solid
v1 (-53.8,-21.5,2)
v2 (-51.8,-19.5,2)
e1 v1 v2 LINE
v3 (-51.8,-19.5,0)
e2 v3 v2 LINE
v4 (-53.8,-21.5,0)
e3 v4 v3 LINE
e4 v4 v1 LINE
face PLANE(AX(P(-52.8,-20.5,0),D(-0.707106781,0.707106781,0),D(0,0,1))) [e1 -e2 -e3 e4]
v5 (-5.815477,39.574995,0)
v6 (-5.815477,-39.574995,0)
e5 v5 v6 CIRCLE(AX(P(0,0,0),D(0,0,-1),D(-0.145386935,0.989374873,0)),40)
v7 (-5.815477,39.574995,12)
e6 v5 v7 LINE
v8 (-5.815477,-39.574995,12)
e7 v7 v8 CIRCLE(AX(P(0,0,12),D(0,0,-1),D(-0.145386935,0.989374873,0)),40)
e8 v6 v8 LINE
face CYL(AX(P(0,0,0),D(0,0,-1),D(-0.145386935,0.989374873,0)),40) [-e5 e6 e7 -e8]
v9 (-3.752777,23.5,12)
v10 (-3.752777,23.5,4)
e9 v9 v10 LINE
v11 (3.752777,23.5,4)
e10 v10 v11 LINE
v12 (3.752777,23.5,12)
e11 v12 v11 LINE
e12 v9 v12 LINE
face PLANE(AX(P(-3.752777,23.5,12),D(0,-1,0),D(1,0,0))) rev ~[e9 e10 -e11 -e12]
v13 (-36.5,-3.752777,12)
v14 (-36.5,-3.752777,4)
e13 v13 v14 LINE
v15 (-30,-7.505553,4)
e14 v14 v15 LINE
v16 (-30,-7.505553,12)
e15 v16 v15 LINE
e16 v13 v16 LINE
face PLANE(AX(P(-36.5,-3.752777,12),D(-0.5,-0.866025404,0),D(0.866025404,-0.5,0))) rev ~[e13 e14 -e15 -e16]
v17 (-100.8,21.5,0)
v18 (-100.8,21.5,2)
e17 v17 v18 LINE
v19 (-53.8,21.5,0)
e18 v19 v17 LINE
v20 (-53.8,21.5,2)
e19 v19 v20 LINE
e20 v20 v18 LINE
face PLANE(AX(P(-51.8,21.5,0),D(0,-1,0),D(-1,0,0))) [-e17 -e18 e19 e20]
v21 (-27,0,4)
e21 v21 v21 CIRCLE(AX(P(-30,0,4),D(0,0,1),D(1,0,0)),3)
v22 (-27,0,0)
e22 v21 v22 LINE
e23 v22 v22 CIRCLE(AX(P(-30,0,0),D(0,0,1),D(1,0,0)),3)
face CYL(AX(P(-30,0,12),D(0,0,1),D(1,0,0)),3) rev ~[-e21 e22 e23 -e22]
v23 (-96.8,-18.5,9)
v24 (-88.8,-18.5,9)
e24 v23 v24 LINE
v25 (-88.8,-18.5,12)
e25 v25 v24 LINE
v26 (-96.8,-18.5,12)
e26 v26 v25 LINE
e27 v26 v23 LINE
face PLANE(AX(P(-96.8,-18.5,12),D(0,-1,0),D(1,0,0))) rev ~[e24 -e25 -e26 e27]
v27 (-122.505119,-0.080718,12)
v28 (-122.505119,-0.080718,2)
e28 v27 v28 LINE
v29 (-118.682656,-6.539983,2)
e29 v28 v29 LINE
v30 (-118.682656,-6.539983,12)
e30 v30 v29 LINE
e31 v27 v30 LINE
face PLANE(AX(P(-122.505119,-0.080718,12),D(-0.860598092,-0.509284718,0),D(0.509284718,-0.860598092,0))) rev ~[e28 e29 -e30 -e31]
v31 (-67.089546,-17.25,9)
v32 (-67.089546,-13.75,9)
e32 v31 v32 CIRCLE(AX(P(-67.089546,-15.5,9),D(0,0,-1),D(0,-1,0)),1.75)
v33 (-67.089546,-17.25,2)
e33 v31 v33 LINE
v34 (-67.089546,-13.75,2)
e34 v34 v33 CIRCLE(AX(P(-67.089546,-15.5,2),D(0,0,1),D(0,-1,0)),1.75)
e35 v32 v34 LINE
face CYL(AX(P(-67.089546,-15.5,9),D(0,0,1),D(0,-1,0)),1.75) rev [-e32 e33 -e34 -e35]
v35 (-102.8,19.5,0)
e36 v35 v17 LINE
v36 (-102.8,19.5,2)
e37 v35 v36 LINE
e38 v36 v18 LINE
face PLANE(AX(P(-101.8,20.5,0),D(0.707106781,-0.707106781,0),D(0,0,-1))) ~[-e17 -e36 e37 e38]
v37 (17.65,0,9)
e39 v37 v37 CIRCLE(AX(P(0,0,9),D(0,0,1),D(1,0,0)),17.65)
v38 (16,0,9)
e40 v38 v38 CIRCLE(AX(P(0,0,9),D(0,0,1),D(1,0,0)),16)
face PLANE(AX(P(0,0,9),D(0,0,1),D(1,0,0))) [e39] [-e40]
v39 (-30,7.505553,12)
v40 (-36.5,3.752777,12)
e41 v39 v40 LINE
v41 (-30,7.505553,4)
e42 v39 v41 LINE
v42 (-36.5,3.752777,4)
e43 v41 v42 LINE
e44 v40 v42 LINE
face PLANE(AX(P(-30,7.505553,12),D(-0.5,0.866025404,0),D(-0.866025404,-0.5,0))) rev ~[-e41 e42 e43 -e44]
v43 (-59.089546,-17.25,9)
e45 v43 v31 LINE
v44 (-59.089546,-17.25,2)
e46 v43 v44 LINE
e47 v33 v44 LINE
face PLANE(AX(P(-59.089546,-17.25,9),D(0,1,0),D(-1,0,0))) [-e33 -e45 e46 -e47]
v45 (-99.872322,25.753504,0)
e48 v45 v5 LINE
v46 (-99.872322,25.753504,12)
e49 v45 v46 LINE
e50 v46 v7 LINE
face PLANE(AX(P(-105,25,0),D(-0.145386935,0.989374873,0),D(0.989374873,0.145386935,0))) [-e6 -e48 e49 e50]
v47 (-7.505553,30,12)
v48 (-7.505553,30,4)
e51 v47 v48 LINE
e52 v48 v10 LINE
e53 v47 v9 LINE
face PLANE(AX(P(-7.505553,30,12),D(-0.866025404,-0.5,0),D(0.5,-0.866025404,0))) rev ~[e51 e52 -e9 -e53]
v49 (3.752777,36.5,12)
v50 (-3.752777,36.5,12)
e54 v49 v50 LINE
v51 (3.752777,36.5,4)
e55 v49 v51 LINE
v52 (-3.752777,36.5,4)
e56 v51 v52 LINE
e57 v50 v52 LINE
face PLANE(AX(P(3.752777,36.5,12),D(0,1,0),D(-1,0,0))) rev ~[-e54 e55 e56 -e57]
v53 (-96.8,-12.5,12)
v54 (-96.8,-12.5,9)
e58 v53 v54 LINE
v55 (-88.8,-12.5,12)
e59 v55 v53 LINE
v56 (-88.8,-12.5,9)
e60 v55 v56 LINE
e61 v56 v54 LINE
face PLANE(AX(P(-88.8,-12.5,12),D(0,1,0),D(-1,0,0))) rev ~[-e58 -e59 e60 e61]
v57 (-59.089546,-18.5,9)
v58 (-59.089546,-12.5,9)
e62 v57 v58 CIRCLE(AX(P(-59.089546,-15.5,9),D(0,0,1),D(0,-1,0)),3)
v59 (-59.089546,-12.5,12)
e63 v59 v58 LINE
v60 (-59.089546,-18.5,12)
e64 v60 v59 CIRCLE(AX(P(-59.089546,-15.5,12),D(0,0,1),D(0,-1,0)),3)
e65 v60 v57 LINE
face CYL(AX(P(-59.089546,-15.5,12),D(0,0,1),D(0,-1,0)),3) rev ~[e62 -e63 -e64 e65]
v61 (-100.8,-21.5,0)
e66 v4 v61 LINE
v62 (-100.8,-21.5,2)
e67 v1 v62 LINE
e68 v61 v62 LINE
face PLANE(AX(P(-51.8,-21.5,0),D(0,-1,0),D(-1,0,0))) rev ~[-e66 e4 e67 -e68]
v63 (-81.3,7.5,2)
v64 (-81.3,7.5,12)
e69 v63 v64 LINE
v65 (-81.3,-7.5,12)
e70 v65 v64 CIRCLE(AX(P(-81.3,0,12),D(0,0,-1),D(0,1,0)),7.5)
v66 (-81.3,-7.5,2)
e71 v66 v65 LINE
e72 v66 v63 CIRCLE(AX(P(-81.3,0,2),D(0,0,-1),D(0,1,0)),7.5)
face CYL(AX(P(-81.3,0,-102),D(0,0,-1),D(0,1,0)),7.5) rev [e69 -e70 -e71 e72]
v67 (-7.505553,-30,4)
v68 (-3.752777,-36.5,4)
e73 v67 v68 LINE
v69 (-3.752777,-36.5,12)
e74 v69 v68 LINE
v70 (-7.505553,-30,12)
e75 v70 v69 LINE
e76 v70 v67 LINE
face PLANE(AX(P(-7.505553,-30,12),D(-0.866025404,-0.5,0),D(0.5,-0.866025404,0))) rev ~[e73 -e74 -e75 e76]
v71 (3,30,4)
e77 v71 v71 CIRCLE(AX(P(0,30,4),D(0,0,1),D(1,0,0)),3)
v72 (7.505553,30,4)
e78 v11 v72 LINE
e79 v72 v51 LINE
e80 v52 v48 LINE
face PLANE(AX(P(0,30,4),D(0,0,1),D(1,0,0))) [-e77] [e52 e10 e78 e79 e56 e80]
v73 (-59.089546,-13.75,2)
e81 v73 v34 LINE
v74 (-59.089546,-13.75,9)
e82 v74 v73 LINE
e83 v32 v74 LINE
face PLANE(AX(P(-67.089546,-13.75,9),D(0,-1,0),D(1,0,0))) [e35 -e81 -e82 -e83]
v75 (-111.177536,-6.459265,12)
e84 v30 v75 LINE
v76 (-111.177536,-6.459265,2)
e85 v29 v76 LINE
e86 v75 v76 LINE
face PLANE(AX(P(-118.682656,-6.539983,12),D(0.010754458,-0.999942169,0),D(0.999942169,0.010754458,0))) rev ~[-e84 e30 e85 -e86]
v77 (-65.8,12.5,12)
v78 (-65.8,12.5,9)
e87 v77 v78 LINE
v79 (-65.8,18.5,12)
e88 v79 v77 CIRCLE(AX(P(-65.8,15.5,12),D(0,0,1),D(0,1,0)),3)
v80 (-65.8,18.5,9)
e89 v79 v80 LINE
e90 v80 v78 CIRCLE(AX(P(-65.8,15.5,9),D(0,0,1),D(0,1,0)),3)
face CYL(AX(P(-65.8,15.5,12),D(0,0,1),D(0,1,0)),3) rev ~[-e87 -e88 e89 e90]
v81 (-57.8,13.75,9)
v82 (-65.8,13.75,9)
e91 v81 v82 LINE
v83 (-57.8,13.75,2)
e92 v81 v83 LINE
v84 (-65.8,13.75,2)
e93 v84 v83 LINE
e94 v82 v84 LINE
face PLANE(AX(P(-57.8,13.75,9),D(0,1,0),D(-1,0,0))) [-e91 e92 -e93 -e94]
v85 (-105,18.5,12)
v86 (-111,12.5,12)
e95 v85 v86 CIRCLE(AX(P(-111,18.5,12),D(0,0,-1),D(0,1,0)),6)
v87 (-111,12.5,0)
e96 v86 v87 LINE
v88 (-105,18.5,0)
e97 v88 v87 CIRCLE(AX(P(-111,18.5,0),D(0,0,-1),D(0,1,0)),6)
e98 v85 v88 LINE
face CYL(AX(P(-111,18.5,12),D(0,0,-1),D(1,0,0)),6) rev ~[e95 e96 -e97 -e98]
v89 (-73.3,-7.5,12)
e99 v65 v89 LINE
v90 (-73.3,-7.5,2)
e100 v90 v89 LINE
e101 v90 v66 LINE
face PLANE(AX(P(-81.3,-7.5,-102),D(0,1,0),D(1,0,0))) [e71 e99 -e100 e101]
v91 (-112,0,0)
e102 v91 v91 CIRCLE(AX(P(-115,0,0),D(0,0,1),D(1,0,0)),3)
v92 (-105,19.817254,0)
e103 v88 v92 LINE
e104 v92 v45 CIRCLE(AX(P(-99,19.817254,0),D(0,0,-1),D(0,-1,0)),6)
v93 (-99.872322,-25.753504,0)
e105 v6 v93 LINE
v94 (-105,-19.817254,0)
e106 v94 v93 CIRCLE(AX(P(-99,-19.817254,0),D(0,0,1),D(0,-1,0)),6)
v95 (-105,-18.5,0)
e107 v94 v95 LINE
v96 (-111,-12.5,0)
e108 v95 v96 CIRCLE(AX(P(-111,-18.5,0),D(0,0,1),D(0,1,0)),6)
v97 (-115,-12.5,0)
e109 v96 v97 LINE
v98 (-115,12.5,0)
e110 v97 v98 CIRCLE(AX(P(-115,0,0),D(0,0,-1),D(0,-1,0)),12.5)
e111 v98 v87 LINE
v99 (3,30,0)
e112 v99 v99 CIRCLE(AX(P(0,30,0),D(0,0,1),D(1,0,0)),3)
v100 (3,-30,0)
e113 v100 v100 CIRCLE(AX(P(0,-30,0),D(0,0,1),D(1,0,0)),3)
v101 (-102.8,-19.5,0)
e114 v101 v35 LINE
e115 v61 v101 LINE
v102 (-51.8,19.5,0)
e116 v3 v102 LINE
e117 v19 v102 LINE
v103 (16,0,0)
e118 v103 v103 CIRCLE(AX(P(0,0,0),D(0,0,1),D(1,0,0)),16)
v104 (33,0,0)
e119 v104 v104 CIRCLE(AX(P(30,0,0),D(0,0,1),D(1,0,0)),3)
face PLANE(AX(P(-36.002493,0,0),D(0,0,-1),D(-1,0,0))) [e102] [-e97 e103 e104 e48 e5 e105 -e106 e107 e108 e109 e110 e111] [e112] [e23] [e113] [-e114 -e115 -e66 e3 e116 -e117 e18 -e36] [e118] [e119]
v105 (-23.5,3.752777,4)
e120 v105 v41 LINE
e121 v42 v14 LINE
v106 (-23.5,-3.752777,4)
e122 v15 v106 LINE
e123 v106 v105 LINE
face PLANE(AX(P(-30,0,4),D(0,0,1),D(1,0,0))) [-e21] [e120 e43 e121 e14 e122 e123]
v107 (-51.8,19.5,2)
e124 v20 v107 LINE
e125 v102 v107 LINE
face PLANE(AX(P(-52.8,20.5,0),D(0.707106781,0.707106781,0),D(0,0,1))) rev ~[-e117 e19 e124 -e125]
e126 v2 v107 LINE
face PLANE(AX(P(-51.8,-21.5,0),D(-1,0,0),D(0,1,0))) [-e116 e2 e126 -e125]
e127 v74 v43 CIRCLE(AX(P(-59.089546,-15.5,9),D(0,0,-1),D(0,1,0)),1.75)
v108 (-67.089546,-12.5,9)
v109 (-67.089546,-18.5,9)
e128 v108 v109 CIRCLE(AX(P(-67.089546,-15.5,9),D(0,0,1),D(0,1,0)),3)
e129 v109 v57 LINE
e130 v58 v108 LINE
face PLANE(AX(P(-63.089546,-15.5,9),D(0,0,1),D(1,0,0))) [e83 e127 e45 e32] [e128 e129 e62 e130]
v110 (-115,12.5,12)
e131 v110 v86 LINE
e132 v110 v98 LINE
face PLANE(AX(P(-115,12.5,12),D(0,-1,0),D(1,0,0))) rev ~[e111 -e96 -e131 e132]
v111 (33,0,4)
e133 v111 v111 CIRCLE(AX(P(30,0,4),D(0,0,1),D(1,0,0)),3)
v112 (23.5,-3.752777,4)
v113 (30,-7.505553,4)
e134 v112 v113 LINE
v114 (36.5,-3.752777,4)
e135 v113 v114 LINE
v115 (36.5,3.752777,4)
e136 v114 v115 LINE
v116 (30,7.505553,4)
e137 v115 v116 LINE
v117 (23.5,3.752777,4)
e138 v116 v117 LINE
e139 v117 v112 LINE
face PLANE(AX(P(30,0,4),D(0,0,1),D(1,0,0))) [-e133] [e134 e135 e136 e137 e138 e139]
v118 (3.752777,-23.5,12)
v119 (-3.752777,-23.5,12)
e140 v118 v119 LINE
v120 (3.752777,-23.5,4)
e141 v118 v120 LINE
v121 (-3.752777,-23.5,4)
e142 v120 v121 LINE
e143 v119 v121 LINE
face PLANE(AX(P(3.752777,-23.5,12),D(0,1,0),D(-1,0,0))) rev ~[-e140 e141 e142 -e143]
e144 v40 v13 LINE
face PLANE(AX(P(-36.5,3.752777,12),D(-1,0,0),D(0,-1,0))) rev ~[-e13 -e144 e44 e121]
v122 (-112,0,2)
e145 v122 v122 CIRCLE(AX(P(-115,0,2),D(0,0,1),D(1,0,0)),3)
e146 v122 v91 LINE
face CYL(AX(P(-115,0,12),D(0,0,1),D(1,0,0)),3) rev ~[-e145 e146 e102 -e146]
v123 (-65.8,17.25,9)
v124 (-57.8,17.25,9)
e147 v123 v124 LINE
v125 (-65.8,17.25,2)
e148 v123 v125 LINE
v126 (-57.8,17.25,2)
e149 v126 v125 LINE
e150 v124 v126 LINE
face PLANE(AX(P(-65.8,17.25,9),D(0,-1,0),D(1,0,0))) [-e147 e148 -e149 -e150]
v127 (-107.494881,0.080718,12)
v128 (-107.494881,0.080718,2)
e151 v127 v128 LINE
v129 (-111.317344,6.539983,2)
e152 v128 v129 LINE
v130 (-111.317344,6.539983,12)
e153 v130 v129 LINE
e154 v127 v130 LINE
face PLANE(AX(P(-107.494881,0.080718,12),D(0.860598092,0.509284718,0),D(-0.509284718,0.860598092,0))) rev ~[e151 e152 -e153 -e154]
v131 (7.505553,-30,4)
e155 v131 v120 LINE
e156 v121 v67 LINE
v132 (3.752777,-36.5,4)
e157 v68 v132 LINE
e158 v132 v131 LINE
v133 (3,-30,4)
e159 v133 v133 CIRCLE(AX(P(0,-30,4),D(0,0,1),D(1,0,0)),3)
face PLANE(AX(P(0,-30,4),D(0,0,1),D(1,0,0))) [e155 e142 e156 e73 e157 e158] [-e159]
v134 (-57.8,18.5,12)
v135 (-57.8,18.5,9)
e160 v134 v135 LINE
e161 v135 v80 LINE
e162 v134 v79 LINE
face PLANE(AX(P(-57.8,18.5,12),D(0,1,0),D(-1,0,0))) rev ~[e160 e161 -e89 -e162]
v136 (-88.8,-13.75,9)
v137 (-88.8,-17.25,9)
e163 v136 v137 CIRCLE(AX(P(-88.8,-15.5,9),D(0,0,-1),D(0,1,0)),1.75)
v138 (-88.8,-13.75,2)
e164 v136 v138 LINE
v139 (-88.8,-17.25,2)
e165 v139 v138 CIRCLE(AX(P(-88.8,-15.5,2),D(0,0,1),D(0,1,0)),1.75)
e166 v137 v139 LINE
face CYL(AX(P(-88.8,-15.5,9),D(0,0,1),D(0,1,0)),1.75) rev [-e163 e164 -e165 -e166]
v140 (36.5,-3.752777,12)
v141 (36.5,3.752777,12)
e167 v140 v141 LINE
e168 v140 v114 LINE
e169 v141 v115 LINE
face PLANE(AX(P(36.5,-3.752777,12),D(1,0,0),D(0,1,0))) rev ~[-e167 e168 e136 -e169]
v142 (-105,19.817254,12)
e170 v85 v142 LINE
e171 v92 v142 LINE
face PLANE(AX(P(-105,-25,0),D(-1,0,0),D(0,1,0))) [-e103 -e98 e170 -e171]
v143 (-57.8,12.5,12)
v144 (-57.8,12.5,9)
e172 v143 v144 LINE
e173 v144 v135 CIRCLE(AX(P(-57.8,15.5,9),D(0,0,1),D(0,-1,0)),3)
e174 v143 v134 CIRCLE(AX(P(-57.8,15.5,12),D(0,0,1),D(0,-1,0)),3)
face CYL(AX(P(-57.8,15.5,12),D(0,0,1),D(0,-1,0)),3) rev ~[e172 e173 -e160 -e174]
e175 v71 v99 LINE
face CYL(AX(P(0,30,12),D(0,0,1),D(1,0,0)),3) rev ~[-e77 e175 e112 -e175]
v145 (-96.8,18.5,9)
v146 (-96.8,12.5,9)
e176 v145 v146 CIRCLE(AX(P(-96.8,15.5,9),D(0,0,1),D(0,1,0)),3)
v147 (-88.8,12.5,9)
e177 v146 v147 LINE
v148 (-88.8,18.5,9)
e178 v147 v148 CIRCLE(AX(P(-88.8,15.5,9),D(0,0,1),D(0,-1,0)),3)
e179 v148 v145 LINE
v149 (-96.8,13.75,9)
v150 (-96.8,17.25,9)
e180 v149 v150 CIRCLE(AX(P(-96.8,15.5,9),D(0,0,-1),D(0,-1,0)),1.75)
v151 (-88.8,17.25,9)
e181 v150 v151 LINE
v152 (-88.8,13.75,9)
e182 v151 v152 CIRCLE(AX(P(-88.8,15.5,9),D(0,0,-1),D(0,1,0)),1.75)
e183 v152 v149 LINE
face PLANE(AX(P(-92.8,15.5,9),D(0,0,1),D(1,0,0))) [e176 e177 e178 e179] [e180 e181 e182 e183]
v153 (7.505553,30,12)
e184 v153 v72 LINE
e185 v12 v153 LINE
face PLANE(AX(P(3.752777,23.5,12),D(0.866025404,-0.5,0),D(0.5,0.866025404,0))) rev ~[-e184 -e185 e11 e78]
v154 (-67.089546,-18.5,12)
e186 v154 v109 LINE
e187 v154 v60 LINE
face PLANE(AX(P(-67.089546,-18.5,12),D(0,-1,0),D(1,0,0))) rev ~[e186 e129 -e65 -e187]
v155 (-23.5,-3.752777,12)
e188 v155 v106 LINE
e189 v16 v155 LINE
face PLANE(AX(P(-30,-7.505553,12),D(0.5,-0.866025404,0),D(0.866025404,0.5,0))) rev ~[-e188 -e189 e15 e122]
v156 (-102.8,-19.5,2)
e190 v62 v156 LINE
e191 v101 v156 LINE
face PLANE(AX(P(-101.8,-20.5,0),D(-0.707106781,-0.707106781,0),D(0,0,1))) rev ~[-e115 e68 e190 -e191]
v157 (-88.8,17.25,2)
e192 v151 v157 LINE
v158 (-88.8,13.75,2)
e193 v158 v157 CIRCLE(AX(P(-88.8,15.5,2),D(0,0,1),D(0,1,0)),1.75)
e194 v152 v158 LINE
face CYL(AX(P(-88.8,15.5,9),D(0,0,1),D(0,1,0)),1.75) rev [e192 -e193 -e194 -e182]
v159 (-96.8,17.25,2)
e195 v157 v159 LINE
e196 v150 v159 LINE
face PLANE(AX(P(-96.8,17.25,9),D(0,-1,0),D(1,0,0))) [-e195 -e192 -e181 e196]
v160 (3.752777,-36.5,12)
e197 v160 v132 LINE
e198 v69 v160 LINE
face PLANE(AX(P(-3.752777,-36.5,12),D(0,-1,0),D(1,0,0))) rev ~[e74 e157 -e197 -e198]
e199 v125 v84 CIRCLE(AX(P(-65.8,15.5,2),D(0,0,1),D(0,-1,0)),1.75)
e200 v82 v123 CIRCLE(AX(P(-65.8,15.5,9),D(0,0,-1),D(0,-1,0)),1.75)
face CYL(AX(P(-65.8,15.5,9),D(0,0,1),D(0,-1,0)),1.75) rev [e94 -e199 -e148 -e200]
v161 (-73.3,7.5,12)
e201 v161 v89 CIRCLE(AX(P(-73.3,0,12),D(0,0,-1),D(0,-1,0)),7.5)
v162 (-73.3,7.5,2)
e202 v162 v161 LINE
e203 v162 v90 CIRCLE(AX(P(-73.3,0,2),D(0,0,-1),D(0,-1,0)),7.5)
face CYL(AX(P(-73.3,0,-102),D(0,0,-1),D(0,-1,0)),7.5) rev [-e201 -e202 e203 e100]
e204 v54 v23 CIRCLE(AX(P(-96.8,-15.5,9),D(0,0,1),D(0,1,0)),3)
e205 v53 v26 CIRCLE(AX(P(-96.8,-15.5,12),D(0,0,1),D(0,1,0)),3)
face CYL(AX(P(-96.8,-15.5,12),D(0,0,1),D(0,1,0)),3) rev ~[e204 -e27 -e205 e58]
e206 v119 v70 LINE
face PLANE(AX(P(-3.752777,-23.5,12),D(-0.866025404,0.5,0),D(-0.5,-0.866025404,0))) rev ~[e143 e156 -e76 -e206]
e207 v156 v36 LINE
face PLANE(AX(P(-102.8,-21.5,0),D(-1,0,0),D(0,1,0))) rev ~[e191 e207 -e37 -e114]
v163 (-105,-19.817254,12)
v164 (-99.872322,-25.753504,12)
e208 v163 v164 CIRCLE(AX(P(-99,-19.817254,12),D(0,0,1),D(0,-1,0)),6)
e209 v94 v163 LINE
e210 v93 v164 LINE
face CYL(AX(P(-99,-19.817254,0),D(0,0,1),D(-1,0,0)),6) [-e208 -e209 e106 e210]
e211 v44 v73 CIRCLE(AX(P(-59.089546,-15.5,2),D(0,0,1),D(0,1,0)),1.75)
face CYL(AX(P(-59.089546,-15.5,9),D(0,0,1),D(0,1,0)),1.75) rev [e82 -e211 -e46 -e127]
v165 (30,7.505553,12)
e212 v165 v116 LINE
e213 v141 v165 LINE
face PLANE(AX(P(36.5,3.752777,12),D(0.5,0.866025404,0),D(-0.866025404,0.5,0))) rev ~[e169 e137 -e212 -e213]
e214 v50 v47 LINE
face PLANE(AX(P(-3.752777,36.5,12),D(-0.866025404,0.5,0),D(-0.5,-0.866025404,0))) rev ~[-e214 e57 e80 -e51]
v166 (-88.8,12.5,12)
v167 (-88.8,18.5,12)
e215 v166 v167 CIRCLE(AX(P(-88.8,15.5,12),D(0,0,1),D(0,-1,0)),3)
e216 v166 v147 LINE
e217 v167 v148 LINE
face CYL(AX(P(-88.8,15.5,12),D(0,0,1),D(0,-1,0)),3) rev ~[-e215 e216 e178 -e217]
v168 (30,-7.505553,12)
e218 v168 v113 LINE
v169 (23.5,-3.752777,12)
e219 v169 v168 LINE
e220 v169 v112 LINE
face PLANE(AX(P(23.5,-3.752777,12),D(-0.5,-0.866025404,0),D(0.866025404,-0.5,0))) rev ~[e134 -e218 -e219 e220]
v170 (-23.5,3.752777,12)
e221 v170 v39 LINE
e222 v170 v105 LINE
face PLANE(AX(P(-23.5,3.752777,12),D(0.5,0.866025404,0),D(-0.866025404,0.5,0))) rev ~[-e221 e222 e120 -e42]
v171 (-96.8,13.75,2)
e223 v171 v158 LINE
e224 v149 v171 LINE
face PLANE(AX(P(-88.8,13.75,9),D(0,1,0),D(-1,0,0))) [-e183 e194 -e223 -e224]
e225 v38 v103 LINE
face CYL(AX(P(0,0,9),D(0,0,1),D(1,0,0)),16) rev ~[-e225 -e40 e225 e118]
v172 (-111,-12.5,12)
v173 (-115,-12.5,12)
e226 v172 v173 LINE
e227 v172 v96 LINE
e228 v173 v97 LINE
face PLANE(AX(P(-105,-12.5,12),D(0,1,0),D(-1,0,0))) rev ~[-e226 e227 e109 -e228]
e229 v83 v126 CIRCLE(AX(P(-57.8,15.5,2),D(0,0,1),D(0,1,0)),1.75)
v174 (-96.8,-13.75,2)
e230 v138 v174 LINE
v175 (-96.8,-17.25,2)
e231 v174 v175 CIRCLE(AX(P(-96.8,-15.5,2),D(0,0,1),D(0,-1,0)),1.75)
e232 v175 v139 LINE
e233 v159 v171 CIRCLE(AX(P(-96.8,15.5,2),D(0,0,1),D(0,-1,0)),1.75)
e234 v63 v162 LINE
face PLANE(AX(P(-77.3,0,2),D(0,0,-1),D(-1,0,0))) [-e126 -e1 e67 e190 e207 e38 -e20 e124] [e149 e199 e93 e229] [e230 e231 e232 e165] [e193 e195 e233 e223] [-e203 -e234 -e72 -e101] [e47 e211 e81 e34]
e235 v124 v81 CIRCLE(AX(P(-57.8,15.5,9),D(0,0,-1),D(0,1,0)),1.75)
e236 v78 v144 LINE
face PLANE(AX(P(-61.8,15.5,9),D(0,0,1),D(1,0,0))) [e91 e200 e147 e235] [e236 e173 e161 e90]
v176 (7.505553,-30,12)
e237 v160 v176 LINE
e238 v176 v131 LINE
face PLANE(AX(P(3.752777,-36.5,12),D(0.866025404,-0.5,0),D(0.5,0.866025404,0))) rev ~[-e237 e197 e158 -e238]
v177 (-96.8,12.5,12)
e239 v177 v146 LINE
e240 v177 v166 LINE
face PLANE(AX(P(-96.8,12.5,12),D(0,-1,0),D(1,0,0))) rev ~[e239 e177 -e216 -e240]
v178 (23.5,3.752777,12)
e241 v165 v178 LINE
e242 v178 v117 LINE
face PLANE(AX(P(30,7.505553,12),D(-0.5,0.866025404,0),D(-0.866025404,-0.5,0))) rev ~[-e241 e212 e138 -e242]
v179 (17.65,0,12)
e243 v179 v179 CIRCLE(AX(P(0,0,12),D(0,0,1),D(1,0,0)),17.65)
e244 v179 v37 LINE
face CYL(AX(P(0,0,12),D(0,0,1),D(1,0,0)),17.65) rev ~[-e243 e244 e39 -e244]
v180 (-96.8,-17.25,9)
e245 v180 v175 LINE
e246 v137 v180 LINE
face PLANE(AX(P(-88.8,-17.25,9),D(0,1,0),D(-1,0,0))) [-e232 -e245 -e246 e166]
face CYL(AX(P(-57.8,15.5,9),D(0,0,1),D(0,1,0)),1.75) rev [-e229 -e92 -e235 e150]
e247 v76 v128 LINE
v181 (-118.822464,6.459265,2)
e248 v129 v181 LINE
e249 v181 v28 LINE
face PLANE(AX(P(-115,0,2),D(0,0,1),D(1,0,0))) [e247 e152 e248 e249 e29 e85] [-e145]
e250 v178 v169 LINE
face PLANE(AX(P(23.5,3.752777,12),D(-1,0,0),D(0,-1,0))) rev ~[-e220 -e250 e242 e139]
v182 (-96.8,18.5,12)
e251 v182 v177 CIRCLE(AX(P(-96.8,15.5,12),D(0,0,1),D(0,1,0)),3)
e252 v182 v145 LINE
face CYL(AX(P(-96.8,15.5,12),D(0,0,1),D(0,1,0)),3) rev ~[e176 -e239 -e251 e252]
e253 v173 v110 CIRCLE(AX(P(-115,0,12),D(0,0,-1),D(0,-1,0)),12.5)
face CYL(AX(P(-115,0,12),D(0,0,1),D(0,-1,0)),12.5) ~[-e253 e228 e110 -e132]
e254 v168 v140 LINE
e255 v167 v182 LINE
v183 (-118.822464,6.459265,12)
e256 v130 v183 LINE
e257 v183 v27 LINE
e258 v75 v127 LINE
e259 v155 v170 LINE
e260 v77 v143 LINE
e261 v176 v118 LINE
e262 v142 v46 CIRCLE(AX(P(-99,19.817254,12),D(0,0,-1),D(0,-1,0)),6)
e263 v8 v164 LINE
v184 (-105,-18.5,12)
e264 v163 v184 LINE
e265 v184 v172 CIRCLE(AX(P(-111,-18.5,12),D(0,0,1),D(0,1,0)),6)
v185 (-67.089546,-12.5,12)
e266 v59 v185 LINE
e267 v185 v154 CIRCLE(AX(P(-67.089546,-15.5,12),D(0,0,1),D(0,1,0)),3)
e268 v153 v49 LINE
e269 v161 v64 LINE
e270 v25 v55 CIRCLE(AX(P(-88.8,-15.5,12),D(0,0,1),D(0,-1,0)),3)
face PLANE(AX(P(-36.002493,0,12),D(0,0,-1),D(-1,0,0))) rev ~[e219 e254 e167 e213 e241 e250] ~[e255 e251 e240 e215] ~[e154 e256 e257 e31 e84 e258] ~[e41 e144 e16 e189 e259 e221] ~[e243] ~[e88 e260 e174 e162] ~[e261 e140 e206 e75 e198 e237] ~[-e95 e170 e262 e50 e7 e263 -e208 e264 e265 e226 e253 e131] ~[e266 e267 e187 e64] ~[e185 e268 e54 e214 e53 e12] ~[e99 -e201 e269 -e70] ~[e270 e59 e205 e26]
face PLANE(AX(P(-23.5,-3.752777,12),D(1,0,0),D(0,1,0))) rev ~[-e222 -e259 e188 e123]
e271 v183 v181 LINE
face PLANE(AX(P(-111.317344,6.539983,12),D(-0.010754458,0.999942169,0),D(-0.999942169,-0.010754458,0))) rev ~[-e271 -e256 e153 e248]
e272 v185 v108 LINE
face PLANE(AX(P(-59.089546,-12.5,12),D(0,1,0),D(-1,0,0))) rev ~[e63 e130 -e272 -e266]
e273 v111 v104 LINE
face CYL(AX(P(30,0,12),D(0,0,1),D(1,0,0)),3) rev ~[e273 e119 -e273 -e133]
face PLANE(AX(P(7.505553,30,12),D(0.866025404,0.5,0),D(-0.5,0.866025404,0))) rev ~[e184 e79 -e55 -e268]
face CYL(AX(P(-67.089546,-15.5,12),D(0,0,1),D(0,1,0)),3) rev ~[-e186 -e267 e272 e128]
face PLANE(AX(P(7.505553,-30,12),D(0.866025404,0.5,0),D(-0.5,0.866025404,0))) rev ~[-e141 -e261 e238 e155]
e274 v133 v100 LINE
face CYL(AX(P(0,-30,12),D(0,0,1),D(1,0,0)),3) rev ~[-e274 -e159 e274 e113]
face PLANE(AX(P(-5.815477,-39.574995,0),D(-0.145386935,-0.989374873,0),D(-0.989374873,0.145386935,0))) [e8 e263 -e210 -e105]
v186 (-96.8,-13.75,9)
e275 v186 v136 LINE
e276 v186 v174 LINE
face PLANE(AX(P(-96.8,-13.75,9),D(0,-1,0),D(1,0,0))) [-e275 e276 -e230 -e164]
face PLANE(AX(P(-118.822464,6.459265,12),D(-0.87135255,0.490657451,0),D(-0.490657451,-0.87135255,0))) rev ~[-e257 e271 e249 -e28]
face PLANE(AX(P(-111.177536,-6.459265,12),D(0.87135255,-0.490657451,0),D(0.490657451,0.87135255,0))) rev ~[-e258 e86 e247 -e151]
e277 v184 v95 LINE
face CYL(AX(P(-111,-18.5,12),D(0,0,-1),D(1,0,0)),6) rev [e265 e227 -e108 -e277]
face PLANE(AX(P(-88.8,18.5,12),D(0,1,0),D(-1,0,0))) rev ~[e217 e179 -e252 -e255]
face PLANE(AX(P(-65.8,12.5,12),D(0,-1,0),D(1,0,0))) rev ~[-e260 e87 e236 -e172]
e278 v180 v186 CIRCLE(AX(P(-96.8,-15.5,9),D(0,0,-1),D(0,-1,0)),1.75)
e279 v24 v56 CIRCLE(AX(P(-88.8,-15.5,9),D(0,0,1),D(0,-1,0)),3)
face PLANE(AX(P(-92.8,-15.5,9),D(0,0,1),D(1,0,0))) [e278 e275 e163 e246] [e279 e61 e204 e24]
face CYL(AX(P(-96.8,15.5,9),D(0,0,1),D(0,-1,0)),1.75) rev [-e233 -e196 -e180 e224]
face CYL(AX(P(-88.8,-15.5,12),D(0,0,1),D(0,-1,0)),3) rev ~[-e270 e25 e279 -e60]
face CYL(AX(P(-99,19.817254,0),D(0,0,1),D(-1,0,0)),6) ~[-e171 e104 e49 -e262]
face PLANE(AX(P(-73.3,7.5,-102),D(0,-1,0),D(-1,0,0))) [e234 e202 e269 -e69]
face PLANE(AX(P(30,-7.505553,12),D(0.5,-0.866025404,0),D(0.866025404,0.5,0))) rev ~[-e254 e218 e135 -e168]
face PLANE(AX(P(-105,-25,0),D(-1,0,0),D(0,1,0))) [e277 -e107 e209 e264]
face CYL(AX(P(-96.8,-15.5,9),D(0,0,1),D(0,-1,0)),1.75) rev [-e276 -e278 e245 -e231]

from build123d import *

# Parameters (mm, degrees)
SKETCH2_R               = 10
BOSS_EXTRUDE1_DEPTH     = 12
SKETCH3_R               = 17.65
CUT_EXTRUDE1_DEPTH      = 3
CUT_EXTRUDE2_DEPTH      = 114
CUT_EXTRUDE2_DEPTH_BACK = 114
SKETCH5_R               = 3
CUT_EXTRUDE3_DEPTH      = 114
SKETCH6_R               = 16
CUT_EXTRUDE4_DEPTH      = 113.720894248
SKETCH7_W               = 51
SKETCH7_H               = 43
CUT_EXTRUDE5_DEPTH      = 2
CHAMFER1_SIZE           = 2
CUT_EXTRUDE6_DEPTH      = 8
CUT_EXTRUDE7_DEPTH      = 3
CUT_EXTRUDE8_DEPTH      = 113.720894248
SKETCH11_R              = 3
BOSS_EXTRUDE2_DEPTH     = 12
FILLET1_R               = 6
CUT_EXTRUDE9_DEPTH      = 10


with BuildPart() as part:
    # Sketch2 → Boss-Extrude1 (new body)
    with BuildSketch(Plane.XY):
        with BuildLine():
            Line((-105, -25), (-105, 25))
            Line((-105, 25), (-5.815477401, 39.574994916))
            ThreePointArc((-5.815477401, 39.574994916), (40, 0), (-5.815477401, -39.574994916))
            Line((-5.815477401, -39.574994916), (-105, -25))
        make_face()
        Circle(SKETCH2_R, mode=Mode.SUBTRACT)
    extrude(amount=BOSS_EXTRUDE1_DEPTH)

    # Sketch3 → Cut-Extrude1 (cut)
    with BuildSketch(Plane.XY.offset(12)):
        Circle(SKETCH3_R)
    extrude(amount=-CUT_EXTRUDE1_DEPTH, mode=Mode.SUBTRACT)

    # Sketch4 → Cut-Extrude2 (cut, two sides: drawn at the far end of the back side and taken through both)
    with BuildSketch(Plane.XY.offset(12).offset(-CUT_EXTRUDE2_DEPTH_BACK)):
        with BuildLine():
            Line((-73.3, 7.5), (-81.3, 7.5))
            ThreePointArc((-81.3, 7.5), (-88.8, 0), (-81.3, -7.5))
            Line((-81.3, -7.5), (-73.3, -7.5))
            ThreePointArc((-73.3, -7.5), (-65.8, 0), (-73.3, 7.5))
        make_face()
    extrude(amount=CUT_EXTRUDE2_DEPTH + CUT_EXTRUDE2_DEPTH_BACK, mode=Mode.SUBTRACT)

    # Sketch5 → Cut-Extrude3 (cut, through all)
    with BuildSketch(Plane.XY.offset(12)):
        with Locations((30, 0)):
            Circle(SKETCH5_R)
        with Locations((0, -30)):
            Circle(SKETCH5_R)
        with Locations((-30, 0)):
            Circle(SKETCH5_R)
        with Locations((0, 30)):
            Circle(SKETCH5_R)
    extrude(amount=-CUT_EXTRUDE3_DEPTH, mode=Mode.SUBTRACT)

    # Sketch6 → Cut-Extrude4 (cut, through all)
    with BuildSketch(Plane.XY.offset(9)):
        Circle(SKETCH6_R)
    extrude(amount=-CUT_EXTRUDE4_DEPTH, mode=Mode.SUBTRACT)

    # Sketch7 → Cut-Extrude5 (cut)
    with BuildSketch(Plane(origin=(0, 0, 0), x_dir=(-1, 0, 0), z_dir=(0, 0, -1))):
        with Locations((77.3, 0)):
            Rectangle(SKETCH7_W, SKETCH7_H)
    extrude(amount=-CUT_EXTRUDE5_DEPTH, mode=Mode.SUBTRACT)

    # Chamfer1
    chamfer1_edges = [part.edges().sort_by_distance(p)[0] for p in [
        (-102.8, 21.5, 1),
        (-102.8, -21.5, 1),
        (-51.8, -21.5, 1),
        (-51.8, 21.5, 1),
    ]]
    chamfer(chamfer1_edges, length=CHAMFER1_SIZE)

    # Sketch8 → Cut-Extrude6 (cut)
    with BuildSketch(Plane.XY.offset(12)):
        Polygon((30, -7.505553499), (36.5, -3.75277675), (36.5, 3.75277675), (30, 7.505553499), (23.5, 3.75277675), (23.5, -3.75277675), align=None)
        Polygon((7.505553499, 30), (3.75277675, 36.5), (-3.75277675, 36.5), (-7.505553499, 30), (-3.75277675, 23.5), (3.75277675, 23.5), align=None)
        Polygon((-7.505553499, -30), (-3.75277675, -36.5), (3.75277675, -36.5), (7.505553499, -30), (3.75277675, -23.5), (-3.75277675, -23.5), align=None)
        Polygon((-30, 7.505553499), (-36.5, 3.75277675), (-36.5, -3.75277675), (-30, -7.505553499), (-23.5, -3.75277675), (-23.5, 3.75277675), align=None)
    extrude(amount=-CUT_EXTRUDE6_DEPTH, mode=Mode.SUBTRACT)

    # Sketch9 → Cut-Extrude7 (cut)
    with BuildSketch(Plane.XY.offset(12)):
        with BuildLine():
            Line((-65.8, 12.5), (-57.8, 12.5))
            ThreePointArc((-57.8, 12.5), (-54.8, 15.5), (-57.8, 18.5))
            Line((-57.8, 18.5), (-65.8, 18.5))
            ThreePointArc((-65.8, 18.5), (-68.8, 15.5), (-65.8, 12.5))
        make_face()
        with BuildLine():
            Line((-88.8, 18.5), (-96.8, 18.5))
            ThreePointArc((-96.8, 18.5), (-99.8, 15.5), (-96.8, 12.5))
            Line((-96.8, 12.5), (-88.8, 12.5))
            ThreePointArc((-88.8, 12.5), (-85.8, 15.5), (-88.8, 18.5))
        make_face()
        with BuildLine():
            Line((-59.089545502, -12.5), (-67.089545502, -12.5))
            ThreePointArc((-67.089545502, -12.5), (-70.089545502, -15.5), (-67.089545502, -18.5))
            Line((-67.089545502, -18.5), (-59.089545502, -18.5))
            ThreePointArc((-59.089545502, -18.5), (-56.089545502, -15.5), (-59.089545502, -12.5))
        make_face()
        with BuildLine():
            Line((-88.8, -12.5), (-96.8, -12.5))
            ThreePointArc((-96.8, -12.5), (-99.8, -15.5), (-96.8, -18.5))
            Line((-96.8, -18.5), (-88.8, -18.5))
            ThreePointArc((-88.8, -18.5), (-85.8, -15.5), (-88.8, -12.5))
        make_face()
    extrude(amount=-CUT_EXTRUDE7_DEPTH, mode=Mode.SUBTRACT)

    # Sketch10 → Cut-Extrude8 (cut, through all)
    with BuildSketch(Plane.XY.offset(9)):
        with BuildLine():
            Line((-67.089545502, -13.75), (-59.089545502, -13.75))
            ThreePointArc((-59.089545502, -13.75), (-57.339545502, -15.5), (-59.089545502, -17.25))
            Line((-59.089545502, -17.25), (-67.089545502, -17.25))
            ThreePointArc((-67.089545502, -17.25), (-68.839545502, -15.5), (-67.089545502, -13.75))
        make_face()
        with BuildLine():
            Line((-65.8, 17.25), (-57.8, 17.25))
            ThreePointArc((-57.8, 17.25), (-56.05, 15.5), (-57.8, 13.75))
            Line((-57.8, 13.75), (-65.8, 13.75))
            ThreePointArc((-65.8, 13.75), (-67.55, 15.5), (-65.8, 17.25))
        make_face()
        with BuildLine():
            Line((-96.8, 17.25), (-88.8, 17.25))
            ThreePointArc((-88.8, 17.25), (-87.05, 15.5), (-88.8, 13.75))
            Line((-88.8, 13.75), (-96.8, 13.75))
            ThreePointArc((-96.8, 13.75), (-98.55, 15.5), (-96.8, 17.25))
        make_face()
        with BuildLine():
            Line((-96.8, -13.75), (-88.8, -13.75))
            ThreePointArc((-88.8, -13.75), (-87.05, -15.5), (-88.8, -17.25))
            Line((-88.8, -17.25), (-96.8, -17.25))
            ThreePointArc((-96.8, -17.25), (-98.55, -15.5), (-96.8, -13.75))
        make_face()
    extrude(amount=-CUT_EXTRUDE8_DEPTH, mode=Mode.SUBTRACT)

    # Sketch11 → Boss-Extrude2 (add)
    with BuildSketch(Plane.XY.offset(12)):
        with BuildLine():
            Line((-115, 12.5), (-105, 12.5))
            Line((-105, 12.5), (-105, -12.5))
            Line((-105, -12.5), (-115, -12.5))
            ThreePointArc((-115, -12.5), (-127.5, 0), (-115, 12.5))
        make_face()
        with Locations((-115, 0)):
            Circle(SKETCH11_R, mode=Mode.SUBTRACT)
    extrude(amount=-BOSS_EXTRUDE2_DEPTH)

    # Fillet1
    fillet1_edges = [part.edges().sort_by_distance(p)[0] for p in [
        (-105, -12.5, 6),
        (-105, 12.5, 6),
        (-105, -25, 6),
        (-105, 25, 6),
    ]]
    fillet(fillet1_edges, radius=FILLET1_R)

    # Sketch12 → Cut-Extrude9 (cut)
    with BuildSketch(Plane.XY.offset(12)):
        Polygon((-111.317344252, 6.539983179), (-118.822463699, 6.45926502), (-122.505119447, -0.080718159), (-118.682655748, -6.539983179), (-111.177536301, -6.45926502), (-107.494880553, 0.080718159), align=None)
    extrude(amount=-CUT_EXTRUDE9_DEPTH, mode=Mode.SUBTRACT)


solid = part.part
